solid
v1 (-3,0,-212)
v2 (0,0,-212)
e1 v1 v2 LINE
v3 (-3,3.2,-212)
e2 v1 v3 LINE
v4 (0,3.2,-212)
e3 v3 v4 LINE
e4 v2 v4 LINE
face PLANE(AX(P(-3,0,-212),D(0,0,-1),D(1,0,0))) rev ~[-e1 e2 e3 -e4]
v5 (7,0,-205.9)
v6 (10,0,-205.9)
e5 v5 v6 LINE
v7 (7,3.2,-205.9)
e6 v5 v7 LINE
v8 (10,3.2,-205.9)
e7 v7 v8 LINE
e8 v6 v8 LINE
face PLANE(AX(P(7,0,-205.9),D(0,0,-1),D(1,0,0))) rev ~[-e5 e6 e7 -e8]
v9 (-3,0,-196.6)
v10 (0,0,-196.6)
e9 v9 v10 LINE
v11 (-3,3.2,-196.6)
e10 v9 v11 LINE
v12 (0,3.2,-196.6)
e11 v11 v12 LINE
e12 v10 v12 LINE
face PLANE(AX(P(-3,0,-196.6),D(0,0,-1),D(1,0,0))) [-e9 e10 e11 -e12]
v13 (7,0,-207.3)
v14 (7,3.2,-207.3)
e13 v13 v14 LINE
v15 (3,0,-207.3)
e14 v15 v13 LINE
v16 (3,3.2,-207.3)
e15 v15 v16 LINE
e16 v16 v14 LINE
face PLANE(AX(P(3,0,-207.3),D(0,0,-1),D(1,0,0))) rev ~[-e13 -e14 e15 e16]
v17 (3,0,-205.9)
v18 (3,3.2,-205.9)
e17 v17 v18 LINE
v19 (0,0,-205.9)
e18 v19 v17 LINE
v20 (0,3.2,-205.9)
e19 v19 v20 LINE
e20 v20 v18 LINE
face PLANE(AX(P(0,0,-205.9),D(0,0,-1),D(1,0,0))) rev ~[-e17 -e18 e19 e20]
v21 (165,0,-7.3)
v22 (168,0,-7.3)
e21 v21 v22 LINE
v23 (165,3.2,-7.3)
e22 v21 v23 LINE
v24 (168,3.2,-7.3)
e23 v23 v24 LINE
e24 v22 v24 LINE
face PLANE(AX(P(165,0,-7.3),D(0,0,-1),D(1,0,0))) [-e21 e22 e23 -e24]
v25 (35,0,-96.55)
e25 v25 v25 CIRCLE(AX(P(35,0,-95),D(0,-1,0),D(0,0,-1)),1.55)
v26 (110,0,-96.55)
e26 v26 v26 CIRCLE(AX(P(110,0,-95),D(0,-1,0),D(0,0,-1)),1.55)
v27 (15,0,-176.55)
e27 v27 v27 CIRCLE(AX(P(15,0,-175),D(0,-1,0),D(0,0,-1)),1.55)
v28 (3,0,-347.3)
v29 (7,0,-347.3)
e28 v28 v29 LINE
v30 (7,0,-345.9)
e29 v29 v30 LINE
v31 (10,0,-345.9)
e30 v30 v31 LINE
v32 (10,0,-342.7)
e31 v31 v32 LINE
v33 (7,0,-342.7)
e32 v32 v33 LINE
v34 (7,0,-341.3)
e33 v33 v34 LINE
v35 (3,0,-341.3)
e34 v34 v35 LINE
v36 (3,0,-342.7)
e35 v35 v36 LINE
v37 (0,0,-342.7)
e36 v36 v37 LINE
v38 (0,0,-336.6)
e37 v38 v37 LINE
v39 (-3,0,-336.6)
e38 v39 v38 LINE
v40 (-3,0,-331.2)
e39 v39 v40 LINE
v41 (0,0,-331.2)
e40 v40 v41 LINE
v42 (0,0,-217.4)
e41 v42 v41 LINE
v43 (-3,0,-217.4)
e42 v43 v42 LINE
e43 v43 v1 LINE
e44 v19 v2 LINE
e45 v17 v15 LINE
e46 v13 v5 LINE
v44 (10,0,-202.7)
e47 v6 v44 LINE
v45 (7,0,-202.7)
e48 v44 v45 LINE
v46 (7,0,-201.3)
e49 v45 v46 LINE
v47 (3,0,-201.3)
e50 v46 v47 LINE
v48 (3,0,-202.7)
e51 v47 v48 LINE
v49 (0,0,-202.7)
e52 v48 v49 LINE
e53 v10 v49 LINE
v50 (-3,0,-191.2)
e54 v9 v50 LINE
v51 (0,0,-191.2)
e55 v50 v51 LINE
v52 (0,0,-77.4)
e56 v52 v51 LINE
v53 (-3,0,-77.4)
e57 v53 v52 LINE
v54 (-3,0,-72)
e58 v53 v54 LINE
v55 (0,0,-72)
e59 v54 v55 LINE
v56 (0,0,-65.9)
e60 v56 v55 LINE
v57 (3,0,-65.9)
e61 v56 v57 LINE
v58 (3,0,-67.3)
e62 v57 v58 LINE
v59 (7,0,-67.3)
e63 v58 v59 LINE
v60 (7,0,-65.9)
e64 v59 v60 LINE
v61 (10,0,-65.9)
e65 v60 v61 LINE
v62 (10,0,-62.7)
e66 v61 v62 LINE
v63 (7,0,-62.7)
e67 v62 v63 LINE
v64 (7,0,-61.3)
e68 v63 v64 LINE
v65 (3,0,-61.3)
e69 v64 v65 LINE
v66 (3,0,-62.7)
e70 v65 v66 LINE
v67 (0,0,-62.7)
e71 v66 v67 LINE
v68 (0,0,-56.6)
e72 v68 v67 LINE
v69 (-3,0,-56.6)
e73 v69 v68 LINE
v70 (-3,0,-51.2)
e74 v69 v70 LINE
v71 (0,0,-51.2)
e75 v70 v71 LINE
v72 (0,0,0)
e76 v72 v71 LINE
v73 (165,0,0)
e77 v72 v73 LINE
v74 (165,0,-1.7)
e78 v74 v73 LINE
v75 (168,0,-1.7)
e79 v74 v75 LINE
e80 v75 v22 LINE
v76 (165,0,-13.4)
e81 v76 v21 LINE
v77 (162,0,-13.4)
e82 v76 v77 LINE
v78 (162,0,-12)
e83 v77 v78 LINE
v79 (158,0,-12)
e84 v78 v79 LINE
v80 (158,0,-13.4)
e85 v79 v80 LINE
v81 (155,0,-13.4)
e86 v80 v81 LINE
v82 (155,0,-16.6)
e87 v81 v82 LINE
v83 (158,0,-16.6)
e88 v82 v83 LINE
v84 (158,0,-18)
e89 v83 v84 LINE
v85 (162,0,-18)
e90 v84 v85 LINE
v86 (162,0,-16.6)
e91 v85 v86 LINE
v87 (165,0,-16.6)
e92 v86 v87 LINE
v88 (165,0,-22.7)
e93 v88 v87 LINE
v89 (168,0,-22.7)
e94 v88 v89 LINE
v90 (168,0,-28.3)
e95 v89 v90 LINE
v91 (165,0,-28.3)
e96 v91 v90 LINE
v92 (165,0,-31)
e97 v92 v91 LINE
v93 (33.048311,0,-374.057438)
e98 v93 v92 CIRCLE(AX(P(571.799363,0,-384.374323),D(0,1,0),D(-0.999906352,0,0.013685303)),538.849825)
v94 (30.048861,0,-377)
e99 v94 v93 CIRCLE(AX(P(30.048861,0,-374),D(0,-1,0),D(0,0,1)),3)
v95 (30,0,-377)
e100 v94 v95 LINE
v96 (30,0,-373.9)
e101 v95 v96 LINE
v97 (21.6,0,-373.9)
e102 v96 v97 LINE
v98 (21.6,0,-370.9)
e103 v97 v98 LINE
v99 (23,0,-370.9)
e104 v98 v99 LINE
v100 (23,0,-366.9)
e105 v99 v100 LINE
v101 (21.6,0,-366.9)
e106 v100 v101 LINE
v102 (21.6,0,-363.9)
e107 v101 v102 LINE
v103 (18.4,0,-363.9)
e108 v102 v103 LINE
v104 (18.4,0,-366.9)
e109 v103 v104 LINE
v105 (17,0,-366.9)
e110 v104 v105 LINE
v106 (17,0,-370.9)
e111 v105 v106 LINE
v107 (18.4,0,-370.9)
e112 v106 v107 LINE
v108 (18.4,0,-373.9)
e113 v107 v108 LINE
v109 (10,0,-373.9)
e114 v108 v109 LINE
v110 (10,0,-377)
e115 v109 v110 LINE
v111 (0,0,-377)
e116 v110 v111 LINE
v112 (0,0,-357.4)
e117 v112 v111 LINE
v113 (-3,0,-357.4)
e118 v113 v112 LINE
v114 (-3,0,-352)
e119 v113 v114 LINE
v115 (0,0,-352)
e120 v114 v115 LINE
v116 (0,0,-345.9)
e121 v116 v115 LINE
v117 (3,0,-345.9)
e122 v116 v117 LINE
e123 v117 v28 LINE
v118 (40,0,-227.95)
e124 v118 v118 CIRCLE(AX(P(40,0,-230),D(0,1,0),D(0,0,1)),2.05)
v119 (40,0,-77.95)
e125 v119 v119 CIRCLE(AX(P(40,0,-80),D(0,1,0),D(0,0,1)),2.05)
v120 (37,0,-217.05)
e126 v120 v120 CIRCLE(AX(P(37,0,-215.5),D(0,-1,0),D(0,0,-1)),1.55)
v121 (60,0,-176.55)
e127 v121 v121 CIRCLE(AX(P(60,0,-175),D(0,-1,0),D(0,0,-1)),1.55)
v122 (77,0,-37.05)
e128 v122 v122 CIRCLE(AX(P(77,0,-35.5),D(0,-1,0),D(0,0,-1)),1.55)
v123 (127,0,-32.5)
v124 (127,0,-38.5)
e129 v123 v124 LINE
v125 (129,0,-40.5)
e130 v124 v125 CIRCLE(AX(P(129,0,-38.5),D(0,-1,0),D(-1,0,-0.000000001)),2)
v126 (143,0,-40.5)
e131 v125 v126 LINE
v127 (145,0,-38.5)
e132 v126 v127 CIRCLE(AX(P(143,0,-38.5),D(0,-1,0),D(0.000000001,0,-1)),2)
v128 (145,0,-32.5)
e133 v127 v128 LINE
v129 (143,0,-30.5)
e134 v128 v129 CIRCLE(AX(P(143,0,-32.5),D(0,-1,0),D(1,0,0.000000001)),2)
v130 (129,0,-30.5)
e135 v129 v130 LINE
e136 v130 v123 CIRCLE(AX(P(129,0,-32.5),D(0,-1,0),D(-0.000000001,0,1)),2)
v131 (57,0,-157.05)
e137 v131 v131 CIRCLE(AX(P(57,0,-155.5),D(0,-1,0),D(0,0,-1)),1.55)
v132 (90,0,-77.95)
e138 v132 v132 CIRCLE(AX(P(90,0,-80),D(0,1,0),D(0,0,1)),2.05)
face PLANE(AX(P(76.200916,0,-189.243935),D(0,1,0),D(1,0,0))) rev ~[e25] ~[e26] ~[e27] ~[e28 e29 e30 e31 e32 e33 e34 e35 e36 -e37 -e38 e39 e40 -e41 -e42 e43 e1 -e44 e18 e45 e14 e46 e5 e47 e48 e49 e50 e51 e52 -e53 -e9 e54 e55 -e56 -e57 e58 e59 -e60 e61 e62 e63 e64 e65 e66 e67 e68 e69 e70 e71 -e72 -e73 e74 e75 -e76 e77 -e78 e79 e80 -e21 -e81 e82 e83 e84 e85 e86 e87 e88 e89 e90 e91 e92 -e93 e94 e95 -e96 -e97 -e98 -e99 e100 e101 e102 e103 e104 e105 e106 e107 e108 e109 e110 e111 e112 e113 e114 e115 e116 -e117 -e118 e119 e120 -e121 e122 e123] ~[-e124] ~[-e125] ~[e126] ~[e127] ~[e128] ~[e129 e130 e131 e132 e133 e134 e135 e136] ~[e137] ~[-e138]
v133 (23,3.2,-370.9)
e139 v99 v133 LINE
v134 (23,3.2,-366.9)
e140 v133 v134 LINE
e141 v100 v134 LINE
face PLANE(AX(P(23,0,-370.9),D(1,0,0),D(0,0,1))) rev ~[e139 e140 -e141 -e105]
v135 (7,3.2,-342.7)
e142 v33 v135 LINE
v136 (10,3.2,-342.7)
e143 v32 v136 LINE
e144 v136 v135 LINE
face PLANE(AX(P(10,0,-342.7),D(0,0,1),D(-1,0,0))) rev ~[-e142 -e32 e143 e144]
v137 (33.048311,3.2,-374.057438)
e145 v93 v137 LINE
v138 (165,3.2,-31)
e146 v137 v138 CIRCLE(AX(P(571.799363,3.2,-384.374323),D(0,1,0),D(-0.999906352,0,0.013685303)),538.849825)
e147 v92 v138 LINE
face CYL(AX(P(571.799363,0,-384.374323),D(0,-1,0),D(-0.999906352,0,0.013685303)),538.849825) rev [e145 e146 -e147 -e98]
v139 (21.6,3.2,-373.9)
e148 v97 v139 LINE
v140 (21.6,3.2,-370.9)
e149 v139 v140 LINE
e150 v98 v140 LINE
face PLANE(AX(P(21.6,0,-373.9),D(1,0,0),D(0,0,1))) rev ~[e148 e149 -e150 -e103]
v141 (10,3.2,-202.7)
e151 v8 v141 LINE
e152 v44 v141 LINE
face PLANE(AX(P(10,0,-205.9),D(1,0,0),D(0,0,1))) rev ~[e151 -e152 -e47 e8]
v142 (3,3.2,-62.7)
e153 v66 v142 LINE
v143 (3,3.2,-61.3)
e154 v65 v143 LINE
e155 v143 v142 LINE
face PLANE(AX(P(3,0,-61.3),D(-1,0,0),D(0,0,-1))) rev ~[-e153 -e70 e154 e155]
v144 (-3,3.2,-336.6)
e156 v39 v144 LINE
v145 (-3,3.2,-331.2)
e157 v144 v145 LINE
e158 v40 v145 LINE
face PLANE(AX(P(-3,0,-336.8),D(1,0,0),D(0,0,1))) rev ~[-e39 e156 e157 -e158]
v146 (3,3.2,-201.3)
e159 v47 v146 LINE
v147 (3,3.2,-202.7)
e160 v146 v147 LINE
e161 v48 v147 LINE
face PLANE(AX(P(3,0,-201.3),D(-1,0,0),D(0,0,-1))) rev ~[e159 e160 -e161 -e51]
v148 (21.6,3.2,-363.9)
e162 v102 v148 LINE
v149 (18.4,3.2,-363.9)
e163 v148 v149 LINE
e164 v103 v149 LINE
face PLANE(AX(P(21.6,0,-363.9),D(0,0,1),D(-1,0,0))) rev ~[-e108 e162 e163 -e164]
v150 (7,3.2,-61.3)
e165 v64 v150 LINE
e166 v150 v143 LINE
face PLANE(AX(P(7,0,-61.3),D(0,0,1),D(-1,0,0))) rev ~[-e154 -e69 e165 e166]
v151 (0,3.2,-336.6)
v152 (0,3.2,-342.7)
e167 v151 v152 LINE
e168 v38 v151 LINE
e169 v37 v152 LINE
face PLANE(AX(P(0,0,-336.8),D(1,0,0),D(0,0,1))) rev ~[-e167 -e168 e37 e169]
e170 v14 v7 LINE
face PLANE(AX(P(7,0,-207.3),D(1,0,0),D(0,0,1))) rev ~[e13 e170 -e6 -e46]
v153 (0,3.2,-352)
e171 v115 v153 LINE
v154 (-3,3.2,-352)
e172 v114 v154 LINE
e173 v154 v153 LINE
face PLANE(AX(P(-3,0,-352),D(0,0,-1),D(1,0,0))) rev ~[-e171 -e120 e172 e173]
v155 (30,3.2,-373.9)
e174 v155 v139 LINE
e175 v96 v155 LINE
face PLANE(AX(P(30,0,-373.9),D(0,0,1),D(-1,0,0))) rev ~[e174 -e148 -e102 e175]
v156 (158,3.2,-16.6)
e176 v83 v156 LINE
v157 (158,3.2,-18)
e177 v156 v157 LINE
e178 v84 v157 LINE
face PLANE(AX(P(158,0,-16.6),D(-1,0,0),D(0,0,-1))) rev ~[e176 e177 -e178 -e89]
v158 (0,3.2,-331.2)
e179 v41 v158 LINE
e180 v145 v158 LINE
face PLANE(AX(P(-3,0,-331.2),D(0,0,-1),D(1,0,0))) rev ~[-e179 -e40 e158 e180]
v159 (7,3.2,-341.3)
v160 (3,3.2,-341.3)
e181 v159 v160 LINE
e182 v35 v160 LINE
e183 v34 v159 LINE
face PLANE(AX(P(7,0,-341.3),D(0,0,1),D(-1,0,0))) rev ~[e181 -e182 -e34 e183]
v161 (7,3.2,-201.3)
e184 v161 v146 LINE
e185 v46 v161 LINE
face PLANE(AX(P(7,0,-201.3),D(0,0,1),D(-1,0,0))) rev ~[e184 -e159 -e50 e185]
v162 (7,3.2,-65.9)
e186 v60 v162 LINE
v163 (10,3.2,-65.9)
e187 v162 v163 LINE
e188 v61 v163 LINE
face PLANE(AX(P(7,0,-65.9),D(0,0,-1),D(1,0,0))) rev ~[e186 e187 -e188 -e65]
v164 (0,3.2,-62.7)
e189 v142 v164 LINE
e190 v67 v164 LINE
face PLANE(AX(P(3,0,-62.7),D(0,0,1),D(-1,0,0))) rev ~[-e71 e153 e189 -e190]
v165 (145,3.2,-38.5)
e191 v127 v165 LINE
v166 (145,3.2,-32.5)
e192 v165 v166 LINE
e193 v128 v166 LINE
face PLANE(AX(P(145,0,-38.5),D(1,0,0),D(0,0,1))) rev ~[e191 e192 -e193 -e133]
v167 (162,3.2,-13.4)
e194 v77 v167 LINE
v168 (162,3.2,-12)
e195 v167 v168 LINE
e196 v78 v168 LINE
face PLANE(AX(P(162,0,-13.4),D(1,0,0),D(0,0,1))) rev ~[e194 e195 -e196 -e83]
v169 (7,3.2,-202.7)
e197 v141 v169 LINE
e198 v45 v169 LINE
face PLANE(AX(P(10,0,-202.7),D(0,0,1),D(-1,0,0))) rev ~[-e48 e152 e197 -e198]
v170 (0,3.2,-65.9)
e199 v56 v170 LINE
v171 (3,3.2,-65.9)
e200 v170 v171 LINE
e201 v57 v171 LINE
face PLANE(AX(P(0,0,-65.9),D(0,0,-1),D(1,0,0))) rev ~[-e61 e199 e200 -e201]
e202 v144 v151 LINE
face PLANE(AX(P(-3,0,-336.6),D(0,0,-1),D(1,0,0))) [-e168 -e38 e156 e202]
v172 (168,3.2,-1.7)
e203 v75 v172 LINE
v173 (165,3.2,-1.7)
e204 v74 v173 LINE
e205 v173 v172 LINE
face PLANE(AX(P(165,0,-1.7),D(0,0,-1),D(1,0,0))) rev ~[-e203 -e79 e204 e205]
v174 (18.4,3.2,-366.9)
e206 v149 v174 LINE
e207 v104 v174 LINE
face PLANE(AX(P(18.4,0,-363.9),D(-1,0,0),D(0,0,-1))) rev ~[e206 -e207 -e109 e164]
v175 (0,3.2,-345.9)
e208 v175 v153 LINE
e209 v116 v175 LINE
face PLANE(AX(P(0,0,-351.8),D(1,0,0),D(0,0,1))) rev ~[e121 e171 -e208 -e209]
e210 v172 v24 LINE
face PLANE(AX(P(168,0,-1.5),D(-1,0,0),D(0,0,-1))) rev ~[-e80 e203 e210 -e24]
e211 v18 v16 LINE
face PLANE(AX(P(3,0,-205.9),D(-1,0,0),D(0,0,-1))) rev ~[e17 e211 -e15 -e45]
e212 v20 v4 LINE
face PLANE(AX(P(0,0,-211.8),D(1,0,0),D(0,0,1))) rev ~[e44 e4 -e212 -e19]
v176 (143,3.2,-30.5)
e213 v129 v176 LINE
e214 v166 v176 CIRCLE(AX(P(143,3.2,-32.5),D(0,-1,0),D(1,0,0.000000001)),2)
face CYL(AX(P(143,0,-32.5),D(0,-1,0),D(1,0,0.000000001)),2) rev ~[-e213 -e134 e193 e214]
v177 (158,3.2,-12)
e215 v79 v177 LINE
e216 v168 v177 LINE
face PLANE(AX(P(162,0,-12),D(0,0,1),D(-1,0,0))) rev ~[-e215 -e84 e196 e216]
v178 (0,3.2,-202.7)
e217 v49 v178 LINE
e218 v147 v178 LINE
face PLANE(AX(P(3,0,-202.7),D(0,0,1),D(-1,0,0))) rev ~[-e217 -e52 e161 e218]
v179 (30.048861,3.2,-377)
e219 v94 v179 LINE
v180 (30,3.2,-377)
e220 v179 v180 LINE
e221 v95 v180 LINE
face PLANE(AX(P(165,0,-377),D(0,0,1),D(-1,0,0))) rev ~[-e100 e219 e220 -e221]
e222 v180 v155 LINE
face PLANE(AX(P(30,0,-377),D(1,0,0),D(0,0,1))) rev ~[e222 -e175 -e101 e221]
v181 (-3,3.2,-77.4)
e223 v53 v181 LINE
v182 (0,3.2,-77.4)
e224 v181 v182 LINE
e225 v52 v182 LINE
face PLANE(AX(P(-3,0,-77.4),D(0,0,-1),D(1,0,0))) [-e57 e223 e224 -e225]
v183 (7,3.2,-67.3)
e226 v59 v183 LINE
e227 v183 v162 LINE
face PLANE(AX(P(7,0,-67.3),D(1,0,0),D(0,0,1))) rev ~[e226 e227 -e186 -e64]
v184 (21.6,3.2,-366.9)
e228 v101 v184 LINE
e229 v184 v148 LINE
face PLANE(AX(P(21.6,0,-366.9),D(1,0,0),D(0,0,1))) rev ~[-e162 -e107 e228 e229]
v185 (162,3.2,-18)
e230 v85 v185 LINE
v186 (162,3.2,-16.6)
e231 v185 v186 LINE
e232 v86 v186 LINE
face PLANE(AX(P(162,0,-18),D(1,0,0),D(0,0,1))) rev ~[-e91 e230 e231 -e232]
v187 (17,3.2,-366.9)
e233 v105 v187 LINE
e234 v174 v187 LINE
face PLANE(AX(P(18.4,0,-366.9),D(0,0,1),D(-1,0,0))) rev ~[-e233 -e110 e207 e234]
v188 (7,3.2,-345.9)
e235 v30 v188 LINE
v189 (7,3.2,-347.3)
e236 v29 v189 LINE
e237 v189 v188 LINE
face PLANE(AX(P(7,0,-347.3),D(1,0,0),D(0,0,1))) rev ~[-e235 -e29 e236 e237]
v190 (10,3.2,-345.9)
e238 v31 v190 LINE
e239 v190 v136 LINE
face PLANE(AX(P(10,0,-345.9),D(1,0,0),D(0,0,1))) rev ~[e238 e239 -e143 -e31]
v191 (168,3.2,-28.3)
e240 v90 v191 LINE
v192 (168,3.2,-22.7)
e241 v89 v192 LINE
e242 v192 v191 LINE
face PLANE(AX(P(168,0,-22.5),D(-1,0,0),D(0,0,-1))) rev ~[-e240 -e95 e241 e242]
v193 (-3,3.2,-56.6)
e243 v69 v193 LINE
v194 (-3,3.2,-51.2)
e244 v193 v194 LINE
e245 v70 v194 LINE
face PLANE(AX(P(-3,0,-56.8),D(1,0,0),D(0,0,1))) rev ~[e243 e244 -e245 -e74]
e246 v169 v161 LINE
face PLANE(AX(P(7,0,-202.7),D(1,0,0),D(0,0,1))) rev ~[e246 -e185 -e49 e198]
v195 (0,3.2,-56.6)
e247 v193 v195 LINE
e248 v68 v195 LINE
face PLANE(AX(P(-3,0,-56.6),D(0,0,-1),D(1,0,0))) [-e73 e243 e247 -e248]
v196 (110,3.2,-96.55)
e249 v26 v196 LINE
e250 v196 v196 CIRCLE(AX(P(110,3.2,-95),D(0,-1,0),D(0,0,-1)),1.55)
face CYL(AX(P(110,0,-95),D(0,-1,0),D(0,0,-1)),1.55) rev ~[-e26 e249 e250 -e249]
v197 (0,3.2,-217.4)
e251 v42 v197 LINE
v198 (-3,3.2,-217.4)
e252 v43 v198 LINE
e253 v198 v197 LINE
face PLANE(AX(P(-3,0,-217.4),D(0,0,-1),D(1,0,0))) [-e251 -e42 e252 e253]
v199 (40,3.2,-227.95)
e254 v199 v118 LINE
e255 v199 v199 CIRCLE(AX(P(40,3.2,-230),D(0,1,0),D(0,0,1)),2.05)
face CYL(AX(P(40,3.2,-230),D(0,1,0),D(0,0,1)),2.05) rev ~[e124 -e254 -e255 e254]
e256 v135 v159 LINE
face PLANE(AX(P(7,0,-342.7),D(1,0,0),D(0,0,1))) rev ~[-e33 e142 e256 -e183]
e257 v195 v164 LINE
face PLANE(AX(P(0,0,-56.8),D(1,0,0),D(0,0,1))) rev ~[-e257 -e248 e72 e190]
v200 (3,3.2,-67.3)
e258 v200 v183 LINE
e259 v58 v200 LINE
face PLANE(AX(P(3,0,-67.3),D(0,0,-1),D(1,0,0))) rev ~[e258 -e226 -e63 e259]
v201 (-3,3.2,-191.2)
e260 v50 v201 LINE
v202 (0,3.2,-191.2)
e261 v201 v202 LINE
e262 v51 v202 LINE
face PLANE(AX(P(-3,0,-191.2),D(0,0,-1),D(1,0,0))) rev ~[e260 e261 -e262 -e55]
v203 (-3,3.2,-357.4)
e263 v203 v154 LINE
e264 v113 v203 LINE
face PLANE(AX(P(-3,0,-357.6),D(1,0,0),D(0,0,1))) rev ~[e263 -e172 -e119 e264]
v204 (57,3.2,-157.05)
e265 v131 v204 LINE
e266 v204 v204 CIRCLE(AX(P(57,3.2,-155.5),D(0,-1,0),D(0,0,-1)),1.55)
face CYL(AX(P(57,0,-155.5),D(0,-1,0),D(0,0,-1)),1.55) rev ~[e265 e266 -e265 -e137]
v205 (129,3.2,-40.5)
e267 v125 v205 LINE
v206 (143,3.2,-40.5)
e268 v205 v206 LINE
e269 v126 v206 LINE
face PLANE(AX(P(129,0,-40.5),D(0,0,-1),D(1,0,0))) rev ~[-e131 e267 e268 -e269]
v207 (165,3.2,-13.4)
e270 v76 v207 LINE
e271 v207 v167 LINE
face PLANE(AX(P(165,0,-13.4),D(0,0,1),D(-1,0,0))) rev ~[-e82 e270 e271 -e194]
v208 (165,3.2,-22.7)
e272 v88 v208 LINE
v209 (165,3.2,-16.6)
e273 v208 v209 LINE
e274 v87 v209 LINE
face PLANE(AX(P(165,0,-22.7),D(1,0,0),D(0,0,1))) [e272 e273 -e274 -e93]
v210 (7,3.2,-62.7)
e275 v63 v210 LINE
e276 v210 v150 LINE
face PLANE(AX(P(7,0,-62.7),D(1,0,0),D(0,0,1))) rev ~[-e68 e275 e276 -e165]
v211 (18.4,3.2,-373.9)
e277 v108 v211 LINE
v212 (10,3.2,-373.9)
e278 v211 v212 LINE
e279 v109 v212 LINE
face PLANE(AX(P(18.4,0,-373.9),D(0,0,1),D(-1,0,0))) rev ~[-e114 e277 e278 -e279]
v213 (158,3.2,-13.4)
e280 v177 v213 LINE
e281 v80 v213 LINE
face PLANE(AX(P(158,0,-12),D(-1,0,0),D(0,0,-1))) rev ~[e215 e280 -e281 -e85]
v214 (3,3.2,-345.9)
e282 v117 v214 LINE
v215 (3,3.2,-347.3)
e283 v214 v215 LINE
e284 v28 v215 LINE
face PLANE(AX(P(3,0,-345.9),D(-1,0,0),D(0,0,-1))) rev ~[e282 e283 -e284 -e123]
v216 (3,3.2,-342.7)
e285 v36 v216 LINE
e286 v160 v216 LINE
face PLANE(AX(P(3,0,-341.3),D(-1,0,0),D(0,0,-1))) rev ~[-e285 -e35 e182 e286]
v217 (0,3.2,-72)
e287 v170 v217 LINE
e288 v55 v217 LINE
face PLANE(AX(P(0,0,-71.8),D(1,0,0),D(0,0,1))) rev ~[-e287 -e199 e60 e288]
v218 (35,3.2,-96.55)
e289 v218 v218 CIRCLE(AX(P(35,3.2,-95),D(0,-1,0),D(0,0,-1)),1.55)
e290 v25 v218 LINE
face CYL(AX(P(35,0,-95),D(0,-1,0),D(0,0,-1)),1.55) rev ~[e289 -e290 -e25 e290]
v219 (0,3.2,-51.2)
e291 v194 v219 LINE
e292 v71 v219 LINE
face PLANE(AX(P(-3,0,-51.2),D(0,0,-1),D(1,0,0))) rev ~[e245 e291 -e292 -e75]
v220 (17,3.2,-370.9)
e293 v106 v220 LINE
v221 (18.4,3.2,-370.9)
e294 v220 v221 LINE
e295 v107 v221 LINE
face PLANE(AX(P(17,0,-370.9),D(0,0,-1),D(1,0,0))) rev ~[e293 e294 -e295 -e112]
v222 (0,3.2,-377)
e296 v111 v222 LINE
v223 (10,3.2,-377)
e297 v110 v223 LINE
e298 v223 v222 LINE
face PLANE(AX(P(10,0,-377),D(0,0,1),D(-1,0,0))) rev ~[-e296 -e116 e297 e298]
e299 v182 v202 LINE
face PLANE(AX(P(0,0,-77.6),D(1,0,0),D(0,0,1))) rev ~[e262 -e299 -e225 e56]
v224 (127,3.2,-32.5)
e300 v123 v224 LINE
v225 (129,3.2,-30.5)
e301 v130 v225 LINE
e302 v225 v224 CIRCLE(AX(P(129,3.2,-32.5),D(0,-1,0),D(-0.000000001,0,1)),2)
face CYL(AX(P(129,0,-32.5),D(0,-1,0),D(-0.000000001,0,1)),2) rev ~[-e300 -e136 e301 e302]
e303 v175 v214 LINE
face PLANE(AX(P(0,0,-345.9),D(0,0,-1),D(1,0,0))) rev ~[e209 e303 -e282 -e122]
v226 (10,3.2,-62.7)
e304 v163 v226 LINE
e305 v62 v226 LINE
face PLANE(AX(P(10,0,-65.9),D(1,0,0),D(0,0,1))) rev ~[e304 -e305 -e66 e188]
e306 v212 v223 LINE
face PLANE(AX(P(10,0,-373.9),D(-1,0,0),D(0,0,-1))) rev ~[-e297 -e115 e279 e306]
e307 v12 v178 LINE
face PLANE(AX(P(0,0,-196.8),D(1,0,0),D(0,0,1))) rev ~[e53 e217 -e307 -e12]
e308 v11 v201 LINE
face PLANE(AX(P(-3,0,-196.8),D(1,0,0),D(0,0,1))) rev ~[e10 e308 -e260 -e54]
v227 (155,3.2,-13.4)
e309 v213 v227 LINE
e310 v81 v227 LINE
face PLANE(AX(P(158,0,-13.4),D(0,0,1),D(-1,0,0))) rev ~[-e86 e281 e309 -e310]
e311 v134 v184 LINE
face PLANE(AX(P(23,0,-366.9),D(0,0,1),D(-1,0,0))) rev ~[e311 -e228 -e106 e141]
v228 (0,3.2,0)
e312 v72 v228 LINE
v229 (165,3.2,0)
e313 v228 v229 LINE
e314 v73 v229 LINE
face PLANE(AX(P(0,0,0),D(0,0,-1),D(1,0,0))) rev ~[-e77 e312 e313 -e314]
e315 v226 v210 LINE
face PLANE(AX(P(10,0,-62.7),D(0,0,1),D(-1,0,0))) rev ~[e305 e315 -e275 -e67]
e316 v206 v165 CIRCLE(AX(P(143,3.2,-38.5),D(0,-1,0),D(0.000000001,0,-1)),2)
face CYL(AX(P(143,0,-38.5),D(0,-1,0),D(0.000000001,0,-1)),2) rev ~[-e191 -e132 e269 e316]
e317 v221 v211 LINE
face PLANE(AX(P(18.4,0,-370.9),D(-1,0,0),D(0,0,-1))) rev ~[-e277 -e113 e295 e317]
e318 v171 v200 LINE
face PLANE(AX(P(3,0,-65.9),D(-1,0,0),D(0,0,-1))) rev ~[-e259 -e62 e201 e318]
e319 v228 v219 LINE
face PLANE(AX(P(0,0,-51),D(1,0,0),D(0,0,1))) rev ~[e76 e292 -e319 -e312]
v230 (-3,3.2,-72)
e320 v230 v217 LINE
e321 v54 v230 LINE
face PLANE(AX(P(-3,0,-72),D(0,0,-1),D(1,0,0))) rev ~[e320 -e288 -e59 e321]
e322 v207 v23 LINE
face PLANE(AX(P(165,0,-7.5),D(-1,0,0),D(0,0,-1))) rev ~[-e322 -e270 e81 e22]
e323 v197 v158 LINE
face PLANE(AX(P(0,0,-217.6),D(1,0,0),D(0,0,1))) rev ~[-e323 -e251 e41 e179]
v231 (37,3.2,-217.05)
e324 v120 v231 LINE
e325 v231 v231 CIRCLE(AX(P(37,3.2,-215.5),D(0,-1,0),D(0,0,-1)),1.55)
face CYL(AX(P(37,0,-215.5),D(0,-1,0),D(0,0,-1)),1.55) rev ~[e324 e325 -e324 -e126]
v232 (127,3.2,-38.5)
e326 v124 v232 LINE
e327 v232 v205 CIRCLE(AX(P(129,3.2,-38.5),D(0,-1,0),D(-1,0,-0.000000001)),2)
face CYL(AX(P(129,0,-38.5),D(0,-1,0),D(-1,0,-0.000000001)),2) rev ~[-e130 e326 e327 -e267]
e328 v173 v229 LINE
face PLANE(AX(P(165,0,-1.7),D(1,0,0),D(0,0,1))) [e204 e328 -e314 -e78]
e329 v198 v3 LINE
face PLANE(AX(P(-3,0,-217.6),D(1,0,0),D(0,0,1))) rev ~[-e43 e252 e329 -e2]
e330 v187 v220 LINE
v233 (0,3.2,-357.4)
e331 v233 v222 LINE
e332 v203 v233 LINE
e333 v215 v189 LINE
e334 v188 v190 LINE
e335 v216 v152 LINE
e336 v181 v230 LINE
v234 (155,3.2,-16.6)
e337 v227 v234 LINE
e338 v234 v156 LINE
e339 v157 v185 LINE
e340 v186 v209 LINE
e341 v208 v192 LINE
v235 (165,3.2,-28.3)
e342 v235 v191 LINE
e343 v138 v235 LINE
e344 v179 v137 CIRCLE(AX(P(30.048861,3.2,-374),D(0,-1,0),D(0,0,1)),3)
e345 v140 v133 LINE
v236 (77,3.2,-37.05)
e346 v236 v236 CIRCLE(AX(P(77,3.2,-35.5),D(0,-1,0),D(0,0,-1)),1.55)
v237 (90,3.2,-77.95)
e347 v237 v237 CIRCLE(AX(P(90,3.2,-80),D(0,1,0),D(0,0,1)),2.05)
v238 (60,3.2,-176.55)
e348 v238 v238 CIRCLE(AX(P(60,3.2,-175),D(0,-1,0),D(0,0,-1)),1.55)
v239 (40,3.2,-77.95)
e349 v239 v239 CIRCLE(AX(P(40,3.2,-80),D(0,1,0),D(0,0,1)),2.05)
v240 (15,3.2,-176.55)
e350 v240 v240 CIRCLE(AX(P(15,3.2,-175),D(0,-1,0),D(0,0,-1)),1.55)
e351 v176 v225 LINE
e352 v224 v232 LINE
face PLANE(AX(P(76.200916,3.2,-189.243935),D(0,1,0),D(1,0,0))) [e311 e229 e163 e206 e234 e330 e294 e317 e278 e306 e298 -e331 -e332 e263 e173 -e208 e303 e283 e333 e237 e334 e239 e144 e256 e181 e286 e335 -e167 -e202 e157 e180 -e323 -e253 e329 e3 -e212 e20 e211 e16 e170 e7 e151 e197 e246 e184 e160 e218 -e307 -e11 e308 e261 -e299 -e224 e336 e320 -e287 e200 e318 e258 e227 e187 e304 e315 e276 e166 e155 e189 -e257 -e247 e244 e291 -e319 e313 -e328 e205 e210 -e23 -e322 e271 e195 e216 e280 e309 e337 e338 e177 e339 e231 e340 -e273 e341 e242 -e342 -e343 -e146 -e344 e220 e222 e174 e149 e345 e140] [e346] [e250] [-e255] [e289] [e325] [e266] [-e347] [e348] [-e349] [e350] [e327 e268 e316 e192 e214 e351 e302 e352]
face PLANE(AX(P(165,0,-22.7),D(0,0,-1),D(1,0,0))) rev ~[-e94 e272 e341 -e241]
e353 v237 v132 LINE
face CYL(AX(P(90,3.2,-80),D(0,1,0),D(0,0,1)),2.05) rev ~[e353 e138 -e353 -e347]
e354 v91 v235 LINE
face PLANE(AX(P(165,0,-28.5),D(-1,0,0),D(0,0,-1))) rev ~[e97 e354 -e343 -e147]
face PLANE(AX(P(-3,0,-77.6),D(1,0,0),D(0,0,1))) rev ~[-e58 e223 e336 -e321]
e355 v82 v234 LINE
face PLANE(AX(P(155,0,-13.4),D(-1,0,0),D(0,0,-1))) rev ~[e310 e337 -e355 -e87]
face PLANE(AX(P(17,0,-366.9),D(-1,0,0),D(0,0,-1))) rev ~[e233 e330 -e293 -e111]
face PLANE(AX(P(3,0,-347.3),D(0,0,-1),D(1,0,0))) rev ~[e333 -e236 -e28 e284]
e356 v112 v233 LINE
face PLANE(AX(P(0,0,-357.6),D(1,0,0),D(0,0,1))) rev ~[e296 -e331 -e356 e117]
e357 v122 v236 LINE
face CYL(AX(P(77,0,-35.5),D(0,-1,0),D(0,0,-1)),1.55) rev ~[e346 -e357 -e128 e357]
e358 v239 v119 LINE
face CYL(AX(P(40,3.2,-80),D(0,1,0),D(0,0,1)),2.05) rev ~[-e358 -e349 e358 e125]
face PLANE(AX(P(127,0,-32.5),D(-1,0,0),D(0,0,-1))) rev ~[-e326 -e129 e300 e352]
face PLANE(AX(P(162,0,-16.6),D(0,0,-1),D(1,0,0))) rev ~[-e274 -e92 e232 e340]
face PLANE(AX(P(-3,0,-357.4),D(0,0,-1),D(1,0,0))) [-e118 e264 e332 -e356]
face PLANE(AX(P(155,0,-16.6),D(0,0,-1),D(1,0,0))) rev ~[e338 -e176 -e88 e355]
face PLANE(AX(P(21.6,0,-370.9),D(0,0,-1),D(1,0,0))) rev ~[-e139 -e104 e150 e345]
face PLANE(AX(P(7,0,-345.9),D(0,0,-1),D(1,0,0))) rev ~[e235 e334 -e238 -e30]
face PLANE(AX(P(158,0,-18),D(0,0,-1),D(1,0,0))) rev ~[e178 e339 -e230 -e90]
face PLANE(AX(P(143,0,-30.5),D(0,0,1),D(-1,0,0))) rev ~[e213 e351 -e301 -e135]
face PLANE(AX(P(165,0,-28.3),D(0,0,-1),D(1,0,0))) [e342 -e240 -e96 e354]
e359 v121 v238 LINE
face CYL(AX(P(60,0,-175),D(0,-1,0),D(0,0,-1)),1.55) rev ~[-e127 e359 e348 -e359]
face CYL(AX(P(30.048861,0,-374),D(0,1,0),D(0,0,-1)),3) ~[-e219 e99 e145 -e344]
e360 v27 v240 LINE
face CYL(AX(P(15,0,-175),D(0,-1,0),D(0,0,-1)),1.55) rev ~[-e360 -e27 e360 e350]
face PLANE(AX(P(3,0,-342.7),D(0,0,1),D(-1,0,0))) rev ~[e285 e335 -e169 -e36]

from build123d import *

# Parameters (mm, degrees)
SALIENTE_EXTRUIR1_DEPTH = 3.2
CORTAR_EXTRUIR1_DEPTH   = 3.2
REDONDEO1_R             = 3
CROQUIS3_R              = 2.05
CORTAR_EXTRUIR2_DEPTH   = 3.2
CORTAR_EXTRUIR3_DEPTH   = 3.2
CROQUIS5_R              = 1.55
CORTAR_EXTRUIR4_DEPTH   = 3.2
CROQUIS6_W              = 3
CROQUIS6_H              = 0.2
CORTAR_EXTRUIR5_DEPTH   = 3.2


with BuildPart() as part:
    # Croquis1 → Saliente-Extruir1 (new body)
    with BuildSketch(Plane(origin=(0, 0, 0), x_dir=(1, 0, 0), z_dir=(0, 1, 0))):
        Polygon((7, 65.9), (10, 65.9), (10, 62.7), (7, 62.7), (7, 61.3), (3, 61.3), (3, 62.7), (0, 62.7), (0, 56.8), (-3, 56.8), (-3, 51), (0, 51), (0, 0), (165, 0), (165, 1.5), (168, 1.5), (168, 7.5), (165, 7.5), (165, 13.4), (162, 13.4), (162, 12), (158, 12), (158, 13.4), (155, 13.4), (155, 16.6), (158, 16.6), (158, 18), (162, 18), (162, 16.6), (165, 16.6), (165, 22.5), (168, 22.5), (168, 28.5), (165, 28.5), (165, 377), (30, 377), (30, 373.9), (21.6, 373.9), (21.6, 370.9), (23, 370.9), (23, 366.9), (21.6, 366.9), (21.6, 363.9), (18.4, 363.9), (18.4, 366.9), (17, 366.9), (17, 370.9), (18.4, 370.9), (18.4, 373.9), (10, 373.9), (10, 377), (0, 377), (0, 357.6), (-3, 357.6), (-3, 351.8), (0, 351.8), (0, 345.9), (3, 345.9), (3, 347.3), (7, 347.3), (7, 345.9), (10, 345.9), (10, 342.7), (7, 342.7), (7, 341.3), (3, 341.3), (3, 342.7), (0, 342.7), (0, 336.8), (-3, 336.8), (-3, 331), (0, 331), (0, 217.6), (-3, 217.6), (-3, 211.8), (0, 211.8), (0, 205.9), (3, 205.9), (3, 207.3), (7, 207.3), (7, 205.9), (10, 205.9), (10, 202.7), (7, 202.7), (7, 201.3), (3, 201.3), (3, 202.7), (0, 202.7), (0, 196.8), (-3, 196.8), (-3, 191), (0, 191), (0, 77.6), (-3, 77.6), (-3, 71.8), (0, 71.8), (0, 65.9), (3, 65.9), (3, 67.3), (7, 67.3), align=None)
    extrude(amount=SALIENTE_EXTRUIR1_DEPTH)

    # Croquis2 → Cortar-Extruir1 (cut)
    with BuildSketch(Plane.XZ):
        with BuildLine():
            Line((165, -377), (33, -377))
            ThreePointArc((33, -377), (68.343071274, -192.304293087), (165, -31))
            Line((165, -31), (165, -377))
        make_face()
    extrude(amount=-CORTAR_EXTRUIR1_DEPTH, mode=Mode.SUBTRACT)

    # Redondeo1
    redondeo1_edges = [part.edges().sort_by_distance(p)[0] for p in [
        (33, 1.6, -377),
    ]]
    fillet(redondeo1_edges, radius=REDONDEO1_R)

    # Croquis3 → Cortar-Extruir2 (cut)
    with BuildSketch(Plane(origin=(0, 3.2, 0), x_dir=(1, 0, 0), z_dir=(0, 1, 0))):
        with Locations(Location((40, 80, 0), (0, 0, 270))):
            Circle(CROQUIS3_R)
        with Locations(Location((90, 80, 0), (0, 0, 270))):
            Circle(CROQUIS3_R)
        with Locations(Location((40, 230, 0), (0, 0, 270))):
            Circle(CROQUIS3_R)
    extrude(amount=-CORTAR_EXTRUIR2_DEPTH, mode=Mode.SUBTRACT)

    # Croquis4 → Cortar-Extruir3 (cut)
    with BuildSketch(Plane.XZ):
        with BuildLine():
            Line((143, -30.5), (129, -30.5))
            ThreePointArc((129, -30.5), (127.585786438, -31.085786438), (127, -32.5))
            Line((127, -32.5), (127, -38.5))
            ThreePointArc((127, -38.5), (127.585786438, -39.914213562), (129, -40.5))
            Line((129, -40.5), (143, -40.5))
            ThreePointArc((143, -40.5), (144.414213562, -39.914213562), (145, -38.5))
            Line((145, -38.5), (145, -32.5))
            ThreePointArc((145, -32.5), (144.414213562, -31.085786438), (143, -30.5))
        make_face()
    extrude(amount=-CORTAR_EXTRUIR3_DEPTH, mode=Mode.SUBTRACT)

    # Croquis5 → Cortar-Extruir4 (cut)
    with BuildSketch(Plane.XZ):
        with Locations(Location((110, -95, 0), (0, 0, 270))):
            Circle(CROQUIS5_R)
        with Locations(Location((35, -95, 0), (0, 0, 270))):
            Circle(CROQUIS5_R)
        with Locations(Location((15, -175, 0), (0, 0, 270))):
            Circle(CROQUIS5_R)
        with Locations(Location((60, -175, 0), (0, 0, 270))):
            Circle(CROQUIS5_R)
        with Locations(Location((77, -35.5, 0), (0, 0, 270))):
            Circle(CROQUIS5_R)
        with Locations(Location((37, -215.5, 0), (0, 0, 270))):
            Circle(CROQUIS5_R)
        with Locations(Location((57, -155.5, 0), (0, 0, 270))):
            Circle(CROQUIS5_R)
    extrude(amount=-CORTAR_EXTRUIR4_DEPTH, mode=Mode.SUBTRACT)

    # Croquis6 → Cortar-Extruir5 (cut)
    with BuildSketch(Plane.XZ):
        with Locations((-1.5, -357.5)):
            Rectangle(CROQUIS6_W, CROQUIS6_H)
        with Locations((-1.5, -351.9)):
            Rectangle(CROQUIS6_W, CROQUIS6_H)
        with Locations((-1.5, -336.7)):
            Rectangle(CROQUIS6_W, CROQUIS6_H)
        with Locations((-1.5, -331.1)):
            Rectangle(CROQUIS6_W, CROQUIS6_H)
        with Locations((-1.5, -217.5)):
            Rectangle(CROQUIS6_W, CROQUIS6_H)
        with Locations((-1.5, -211.9)):
            Rectangle(CROQUIS6_W, CROQUIS6_H)
        with Locations((-1.5, -196.7)):
            Rectangle(CROQUIS6_W, CROQUIS6_H)
        with Locations((-1.5, -191.1)):
            Rectangle(CROQUIS6_W, CROQUIS6_H)
        with Locations((-1.5, -77.5)):
            Rectangle(CROQUIS6_W, CROQUIS6_H)
        with Locations((-1.5, -71.9)):
            Rectangle(CROQUIS6_W, CROQUIS6_H)
        with Locations((-1.5, -56.7)):
            Rectangle(CROQUIS6_W, CROQUIS6_H)
        with Locations((-1.5, -51.1)):
            Rectangle(CROQUIS6_W, CROQUIS6_H)
        with Locations((166.5, -28.4)):
            Rectangle(CROQUIS6_W, CROQUIS6_H)
        with Locations((166.5, -22.6)):
            Rectangle(CROQUIS6_W, CROQUIS6_H)
        with Locations((166.5, -7.4)):
            Rectangle(CROQUIS6_W, CROQUIS6_H)
        with Locations((166.5, -1.6)):
            Rectangle(CROQUIS6_W, CROQUIS6_H)
    extrude(amount=-CORTAR_EXTRUIR5_DEPTH, mode=Mode.SUBTRACT)


solid = part.part
